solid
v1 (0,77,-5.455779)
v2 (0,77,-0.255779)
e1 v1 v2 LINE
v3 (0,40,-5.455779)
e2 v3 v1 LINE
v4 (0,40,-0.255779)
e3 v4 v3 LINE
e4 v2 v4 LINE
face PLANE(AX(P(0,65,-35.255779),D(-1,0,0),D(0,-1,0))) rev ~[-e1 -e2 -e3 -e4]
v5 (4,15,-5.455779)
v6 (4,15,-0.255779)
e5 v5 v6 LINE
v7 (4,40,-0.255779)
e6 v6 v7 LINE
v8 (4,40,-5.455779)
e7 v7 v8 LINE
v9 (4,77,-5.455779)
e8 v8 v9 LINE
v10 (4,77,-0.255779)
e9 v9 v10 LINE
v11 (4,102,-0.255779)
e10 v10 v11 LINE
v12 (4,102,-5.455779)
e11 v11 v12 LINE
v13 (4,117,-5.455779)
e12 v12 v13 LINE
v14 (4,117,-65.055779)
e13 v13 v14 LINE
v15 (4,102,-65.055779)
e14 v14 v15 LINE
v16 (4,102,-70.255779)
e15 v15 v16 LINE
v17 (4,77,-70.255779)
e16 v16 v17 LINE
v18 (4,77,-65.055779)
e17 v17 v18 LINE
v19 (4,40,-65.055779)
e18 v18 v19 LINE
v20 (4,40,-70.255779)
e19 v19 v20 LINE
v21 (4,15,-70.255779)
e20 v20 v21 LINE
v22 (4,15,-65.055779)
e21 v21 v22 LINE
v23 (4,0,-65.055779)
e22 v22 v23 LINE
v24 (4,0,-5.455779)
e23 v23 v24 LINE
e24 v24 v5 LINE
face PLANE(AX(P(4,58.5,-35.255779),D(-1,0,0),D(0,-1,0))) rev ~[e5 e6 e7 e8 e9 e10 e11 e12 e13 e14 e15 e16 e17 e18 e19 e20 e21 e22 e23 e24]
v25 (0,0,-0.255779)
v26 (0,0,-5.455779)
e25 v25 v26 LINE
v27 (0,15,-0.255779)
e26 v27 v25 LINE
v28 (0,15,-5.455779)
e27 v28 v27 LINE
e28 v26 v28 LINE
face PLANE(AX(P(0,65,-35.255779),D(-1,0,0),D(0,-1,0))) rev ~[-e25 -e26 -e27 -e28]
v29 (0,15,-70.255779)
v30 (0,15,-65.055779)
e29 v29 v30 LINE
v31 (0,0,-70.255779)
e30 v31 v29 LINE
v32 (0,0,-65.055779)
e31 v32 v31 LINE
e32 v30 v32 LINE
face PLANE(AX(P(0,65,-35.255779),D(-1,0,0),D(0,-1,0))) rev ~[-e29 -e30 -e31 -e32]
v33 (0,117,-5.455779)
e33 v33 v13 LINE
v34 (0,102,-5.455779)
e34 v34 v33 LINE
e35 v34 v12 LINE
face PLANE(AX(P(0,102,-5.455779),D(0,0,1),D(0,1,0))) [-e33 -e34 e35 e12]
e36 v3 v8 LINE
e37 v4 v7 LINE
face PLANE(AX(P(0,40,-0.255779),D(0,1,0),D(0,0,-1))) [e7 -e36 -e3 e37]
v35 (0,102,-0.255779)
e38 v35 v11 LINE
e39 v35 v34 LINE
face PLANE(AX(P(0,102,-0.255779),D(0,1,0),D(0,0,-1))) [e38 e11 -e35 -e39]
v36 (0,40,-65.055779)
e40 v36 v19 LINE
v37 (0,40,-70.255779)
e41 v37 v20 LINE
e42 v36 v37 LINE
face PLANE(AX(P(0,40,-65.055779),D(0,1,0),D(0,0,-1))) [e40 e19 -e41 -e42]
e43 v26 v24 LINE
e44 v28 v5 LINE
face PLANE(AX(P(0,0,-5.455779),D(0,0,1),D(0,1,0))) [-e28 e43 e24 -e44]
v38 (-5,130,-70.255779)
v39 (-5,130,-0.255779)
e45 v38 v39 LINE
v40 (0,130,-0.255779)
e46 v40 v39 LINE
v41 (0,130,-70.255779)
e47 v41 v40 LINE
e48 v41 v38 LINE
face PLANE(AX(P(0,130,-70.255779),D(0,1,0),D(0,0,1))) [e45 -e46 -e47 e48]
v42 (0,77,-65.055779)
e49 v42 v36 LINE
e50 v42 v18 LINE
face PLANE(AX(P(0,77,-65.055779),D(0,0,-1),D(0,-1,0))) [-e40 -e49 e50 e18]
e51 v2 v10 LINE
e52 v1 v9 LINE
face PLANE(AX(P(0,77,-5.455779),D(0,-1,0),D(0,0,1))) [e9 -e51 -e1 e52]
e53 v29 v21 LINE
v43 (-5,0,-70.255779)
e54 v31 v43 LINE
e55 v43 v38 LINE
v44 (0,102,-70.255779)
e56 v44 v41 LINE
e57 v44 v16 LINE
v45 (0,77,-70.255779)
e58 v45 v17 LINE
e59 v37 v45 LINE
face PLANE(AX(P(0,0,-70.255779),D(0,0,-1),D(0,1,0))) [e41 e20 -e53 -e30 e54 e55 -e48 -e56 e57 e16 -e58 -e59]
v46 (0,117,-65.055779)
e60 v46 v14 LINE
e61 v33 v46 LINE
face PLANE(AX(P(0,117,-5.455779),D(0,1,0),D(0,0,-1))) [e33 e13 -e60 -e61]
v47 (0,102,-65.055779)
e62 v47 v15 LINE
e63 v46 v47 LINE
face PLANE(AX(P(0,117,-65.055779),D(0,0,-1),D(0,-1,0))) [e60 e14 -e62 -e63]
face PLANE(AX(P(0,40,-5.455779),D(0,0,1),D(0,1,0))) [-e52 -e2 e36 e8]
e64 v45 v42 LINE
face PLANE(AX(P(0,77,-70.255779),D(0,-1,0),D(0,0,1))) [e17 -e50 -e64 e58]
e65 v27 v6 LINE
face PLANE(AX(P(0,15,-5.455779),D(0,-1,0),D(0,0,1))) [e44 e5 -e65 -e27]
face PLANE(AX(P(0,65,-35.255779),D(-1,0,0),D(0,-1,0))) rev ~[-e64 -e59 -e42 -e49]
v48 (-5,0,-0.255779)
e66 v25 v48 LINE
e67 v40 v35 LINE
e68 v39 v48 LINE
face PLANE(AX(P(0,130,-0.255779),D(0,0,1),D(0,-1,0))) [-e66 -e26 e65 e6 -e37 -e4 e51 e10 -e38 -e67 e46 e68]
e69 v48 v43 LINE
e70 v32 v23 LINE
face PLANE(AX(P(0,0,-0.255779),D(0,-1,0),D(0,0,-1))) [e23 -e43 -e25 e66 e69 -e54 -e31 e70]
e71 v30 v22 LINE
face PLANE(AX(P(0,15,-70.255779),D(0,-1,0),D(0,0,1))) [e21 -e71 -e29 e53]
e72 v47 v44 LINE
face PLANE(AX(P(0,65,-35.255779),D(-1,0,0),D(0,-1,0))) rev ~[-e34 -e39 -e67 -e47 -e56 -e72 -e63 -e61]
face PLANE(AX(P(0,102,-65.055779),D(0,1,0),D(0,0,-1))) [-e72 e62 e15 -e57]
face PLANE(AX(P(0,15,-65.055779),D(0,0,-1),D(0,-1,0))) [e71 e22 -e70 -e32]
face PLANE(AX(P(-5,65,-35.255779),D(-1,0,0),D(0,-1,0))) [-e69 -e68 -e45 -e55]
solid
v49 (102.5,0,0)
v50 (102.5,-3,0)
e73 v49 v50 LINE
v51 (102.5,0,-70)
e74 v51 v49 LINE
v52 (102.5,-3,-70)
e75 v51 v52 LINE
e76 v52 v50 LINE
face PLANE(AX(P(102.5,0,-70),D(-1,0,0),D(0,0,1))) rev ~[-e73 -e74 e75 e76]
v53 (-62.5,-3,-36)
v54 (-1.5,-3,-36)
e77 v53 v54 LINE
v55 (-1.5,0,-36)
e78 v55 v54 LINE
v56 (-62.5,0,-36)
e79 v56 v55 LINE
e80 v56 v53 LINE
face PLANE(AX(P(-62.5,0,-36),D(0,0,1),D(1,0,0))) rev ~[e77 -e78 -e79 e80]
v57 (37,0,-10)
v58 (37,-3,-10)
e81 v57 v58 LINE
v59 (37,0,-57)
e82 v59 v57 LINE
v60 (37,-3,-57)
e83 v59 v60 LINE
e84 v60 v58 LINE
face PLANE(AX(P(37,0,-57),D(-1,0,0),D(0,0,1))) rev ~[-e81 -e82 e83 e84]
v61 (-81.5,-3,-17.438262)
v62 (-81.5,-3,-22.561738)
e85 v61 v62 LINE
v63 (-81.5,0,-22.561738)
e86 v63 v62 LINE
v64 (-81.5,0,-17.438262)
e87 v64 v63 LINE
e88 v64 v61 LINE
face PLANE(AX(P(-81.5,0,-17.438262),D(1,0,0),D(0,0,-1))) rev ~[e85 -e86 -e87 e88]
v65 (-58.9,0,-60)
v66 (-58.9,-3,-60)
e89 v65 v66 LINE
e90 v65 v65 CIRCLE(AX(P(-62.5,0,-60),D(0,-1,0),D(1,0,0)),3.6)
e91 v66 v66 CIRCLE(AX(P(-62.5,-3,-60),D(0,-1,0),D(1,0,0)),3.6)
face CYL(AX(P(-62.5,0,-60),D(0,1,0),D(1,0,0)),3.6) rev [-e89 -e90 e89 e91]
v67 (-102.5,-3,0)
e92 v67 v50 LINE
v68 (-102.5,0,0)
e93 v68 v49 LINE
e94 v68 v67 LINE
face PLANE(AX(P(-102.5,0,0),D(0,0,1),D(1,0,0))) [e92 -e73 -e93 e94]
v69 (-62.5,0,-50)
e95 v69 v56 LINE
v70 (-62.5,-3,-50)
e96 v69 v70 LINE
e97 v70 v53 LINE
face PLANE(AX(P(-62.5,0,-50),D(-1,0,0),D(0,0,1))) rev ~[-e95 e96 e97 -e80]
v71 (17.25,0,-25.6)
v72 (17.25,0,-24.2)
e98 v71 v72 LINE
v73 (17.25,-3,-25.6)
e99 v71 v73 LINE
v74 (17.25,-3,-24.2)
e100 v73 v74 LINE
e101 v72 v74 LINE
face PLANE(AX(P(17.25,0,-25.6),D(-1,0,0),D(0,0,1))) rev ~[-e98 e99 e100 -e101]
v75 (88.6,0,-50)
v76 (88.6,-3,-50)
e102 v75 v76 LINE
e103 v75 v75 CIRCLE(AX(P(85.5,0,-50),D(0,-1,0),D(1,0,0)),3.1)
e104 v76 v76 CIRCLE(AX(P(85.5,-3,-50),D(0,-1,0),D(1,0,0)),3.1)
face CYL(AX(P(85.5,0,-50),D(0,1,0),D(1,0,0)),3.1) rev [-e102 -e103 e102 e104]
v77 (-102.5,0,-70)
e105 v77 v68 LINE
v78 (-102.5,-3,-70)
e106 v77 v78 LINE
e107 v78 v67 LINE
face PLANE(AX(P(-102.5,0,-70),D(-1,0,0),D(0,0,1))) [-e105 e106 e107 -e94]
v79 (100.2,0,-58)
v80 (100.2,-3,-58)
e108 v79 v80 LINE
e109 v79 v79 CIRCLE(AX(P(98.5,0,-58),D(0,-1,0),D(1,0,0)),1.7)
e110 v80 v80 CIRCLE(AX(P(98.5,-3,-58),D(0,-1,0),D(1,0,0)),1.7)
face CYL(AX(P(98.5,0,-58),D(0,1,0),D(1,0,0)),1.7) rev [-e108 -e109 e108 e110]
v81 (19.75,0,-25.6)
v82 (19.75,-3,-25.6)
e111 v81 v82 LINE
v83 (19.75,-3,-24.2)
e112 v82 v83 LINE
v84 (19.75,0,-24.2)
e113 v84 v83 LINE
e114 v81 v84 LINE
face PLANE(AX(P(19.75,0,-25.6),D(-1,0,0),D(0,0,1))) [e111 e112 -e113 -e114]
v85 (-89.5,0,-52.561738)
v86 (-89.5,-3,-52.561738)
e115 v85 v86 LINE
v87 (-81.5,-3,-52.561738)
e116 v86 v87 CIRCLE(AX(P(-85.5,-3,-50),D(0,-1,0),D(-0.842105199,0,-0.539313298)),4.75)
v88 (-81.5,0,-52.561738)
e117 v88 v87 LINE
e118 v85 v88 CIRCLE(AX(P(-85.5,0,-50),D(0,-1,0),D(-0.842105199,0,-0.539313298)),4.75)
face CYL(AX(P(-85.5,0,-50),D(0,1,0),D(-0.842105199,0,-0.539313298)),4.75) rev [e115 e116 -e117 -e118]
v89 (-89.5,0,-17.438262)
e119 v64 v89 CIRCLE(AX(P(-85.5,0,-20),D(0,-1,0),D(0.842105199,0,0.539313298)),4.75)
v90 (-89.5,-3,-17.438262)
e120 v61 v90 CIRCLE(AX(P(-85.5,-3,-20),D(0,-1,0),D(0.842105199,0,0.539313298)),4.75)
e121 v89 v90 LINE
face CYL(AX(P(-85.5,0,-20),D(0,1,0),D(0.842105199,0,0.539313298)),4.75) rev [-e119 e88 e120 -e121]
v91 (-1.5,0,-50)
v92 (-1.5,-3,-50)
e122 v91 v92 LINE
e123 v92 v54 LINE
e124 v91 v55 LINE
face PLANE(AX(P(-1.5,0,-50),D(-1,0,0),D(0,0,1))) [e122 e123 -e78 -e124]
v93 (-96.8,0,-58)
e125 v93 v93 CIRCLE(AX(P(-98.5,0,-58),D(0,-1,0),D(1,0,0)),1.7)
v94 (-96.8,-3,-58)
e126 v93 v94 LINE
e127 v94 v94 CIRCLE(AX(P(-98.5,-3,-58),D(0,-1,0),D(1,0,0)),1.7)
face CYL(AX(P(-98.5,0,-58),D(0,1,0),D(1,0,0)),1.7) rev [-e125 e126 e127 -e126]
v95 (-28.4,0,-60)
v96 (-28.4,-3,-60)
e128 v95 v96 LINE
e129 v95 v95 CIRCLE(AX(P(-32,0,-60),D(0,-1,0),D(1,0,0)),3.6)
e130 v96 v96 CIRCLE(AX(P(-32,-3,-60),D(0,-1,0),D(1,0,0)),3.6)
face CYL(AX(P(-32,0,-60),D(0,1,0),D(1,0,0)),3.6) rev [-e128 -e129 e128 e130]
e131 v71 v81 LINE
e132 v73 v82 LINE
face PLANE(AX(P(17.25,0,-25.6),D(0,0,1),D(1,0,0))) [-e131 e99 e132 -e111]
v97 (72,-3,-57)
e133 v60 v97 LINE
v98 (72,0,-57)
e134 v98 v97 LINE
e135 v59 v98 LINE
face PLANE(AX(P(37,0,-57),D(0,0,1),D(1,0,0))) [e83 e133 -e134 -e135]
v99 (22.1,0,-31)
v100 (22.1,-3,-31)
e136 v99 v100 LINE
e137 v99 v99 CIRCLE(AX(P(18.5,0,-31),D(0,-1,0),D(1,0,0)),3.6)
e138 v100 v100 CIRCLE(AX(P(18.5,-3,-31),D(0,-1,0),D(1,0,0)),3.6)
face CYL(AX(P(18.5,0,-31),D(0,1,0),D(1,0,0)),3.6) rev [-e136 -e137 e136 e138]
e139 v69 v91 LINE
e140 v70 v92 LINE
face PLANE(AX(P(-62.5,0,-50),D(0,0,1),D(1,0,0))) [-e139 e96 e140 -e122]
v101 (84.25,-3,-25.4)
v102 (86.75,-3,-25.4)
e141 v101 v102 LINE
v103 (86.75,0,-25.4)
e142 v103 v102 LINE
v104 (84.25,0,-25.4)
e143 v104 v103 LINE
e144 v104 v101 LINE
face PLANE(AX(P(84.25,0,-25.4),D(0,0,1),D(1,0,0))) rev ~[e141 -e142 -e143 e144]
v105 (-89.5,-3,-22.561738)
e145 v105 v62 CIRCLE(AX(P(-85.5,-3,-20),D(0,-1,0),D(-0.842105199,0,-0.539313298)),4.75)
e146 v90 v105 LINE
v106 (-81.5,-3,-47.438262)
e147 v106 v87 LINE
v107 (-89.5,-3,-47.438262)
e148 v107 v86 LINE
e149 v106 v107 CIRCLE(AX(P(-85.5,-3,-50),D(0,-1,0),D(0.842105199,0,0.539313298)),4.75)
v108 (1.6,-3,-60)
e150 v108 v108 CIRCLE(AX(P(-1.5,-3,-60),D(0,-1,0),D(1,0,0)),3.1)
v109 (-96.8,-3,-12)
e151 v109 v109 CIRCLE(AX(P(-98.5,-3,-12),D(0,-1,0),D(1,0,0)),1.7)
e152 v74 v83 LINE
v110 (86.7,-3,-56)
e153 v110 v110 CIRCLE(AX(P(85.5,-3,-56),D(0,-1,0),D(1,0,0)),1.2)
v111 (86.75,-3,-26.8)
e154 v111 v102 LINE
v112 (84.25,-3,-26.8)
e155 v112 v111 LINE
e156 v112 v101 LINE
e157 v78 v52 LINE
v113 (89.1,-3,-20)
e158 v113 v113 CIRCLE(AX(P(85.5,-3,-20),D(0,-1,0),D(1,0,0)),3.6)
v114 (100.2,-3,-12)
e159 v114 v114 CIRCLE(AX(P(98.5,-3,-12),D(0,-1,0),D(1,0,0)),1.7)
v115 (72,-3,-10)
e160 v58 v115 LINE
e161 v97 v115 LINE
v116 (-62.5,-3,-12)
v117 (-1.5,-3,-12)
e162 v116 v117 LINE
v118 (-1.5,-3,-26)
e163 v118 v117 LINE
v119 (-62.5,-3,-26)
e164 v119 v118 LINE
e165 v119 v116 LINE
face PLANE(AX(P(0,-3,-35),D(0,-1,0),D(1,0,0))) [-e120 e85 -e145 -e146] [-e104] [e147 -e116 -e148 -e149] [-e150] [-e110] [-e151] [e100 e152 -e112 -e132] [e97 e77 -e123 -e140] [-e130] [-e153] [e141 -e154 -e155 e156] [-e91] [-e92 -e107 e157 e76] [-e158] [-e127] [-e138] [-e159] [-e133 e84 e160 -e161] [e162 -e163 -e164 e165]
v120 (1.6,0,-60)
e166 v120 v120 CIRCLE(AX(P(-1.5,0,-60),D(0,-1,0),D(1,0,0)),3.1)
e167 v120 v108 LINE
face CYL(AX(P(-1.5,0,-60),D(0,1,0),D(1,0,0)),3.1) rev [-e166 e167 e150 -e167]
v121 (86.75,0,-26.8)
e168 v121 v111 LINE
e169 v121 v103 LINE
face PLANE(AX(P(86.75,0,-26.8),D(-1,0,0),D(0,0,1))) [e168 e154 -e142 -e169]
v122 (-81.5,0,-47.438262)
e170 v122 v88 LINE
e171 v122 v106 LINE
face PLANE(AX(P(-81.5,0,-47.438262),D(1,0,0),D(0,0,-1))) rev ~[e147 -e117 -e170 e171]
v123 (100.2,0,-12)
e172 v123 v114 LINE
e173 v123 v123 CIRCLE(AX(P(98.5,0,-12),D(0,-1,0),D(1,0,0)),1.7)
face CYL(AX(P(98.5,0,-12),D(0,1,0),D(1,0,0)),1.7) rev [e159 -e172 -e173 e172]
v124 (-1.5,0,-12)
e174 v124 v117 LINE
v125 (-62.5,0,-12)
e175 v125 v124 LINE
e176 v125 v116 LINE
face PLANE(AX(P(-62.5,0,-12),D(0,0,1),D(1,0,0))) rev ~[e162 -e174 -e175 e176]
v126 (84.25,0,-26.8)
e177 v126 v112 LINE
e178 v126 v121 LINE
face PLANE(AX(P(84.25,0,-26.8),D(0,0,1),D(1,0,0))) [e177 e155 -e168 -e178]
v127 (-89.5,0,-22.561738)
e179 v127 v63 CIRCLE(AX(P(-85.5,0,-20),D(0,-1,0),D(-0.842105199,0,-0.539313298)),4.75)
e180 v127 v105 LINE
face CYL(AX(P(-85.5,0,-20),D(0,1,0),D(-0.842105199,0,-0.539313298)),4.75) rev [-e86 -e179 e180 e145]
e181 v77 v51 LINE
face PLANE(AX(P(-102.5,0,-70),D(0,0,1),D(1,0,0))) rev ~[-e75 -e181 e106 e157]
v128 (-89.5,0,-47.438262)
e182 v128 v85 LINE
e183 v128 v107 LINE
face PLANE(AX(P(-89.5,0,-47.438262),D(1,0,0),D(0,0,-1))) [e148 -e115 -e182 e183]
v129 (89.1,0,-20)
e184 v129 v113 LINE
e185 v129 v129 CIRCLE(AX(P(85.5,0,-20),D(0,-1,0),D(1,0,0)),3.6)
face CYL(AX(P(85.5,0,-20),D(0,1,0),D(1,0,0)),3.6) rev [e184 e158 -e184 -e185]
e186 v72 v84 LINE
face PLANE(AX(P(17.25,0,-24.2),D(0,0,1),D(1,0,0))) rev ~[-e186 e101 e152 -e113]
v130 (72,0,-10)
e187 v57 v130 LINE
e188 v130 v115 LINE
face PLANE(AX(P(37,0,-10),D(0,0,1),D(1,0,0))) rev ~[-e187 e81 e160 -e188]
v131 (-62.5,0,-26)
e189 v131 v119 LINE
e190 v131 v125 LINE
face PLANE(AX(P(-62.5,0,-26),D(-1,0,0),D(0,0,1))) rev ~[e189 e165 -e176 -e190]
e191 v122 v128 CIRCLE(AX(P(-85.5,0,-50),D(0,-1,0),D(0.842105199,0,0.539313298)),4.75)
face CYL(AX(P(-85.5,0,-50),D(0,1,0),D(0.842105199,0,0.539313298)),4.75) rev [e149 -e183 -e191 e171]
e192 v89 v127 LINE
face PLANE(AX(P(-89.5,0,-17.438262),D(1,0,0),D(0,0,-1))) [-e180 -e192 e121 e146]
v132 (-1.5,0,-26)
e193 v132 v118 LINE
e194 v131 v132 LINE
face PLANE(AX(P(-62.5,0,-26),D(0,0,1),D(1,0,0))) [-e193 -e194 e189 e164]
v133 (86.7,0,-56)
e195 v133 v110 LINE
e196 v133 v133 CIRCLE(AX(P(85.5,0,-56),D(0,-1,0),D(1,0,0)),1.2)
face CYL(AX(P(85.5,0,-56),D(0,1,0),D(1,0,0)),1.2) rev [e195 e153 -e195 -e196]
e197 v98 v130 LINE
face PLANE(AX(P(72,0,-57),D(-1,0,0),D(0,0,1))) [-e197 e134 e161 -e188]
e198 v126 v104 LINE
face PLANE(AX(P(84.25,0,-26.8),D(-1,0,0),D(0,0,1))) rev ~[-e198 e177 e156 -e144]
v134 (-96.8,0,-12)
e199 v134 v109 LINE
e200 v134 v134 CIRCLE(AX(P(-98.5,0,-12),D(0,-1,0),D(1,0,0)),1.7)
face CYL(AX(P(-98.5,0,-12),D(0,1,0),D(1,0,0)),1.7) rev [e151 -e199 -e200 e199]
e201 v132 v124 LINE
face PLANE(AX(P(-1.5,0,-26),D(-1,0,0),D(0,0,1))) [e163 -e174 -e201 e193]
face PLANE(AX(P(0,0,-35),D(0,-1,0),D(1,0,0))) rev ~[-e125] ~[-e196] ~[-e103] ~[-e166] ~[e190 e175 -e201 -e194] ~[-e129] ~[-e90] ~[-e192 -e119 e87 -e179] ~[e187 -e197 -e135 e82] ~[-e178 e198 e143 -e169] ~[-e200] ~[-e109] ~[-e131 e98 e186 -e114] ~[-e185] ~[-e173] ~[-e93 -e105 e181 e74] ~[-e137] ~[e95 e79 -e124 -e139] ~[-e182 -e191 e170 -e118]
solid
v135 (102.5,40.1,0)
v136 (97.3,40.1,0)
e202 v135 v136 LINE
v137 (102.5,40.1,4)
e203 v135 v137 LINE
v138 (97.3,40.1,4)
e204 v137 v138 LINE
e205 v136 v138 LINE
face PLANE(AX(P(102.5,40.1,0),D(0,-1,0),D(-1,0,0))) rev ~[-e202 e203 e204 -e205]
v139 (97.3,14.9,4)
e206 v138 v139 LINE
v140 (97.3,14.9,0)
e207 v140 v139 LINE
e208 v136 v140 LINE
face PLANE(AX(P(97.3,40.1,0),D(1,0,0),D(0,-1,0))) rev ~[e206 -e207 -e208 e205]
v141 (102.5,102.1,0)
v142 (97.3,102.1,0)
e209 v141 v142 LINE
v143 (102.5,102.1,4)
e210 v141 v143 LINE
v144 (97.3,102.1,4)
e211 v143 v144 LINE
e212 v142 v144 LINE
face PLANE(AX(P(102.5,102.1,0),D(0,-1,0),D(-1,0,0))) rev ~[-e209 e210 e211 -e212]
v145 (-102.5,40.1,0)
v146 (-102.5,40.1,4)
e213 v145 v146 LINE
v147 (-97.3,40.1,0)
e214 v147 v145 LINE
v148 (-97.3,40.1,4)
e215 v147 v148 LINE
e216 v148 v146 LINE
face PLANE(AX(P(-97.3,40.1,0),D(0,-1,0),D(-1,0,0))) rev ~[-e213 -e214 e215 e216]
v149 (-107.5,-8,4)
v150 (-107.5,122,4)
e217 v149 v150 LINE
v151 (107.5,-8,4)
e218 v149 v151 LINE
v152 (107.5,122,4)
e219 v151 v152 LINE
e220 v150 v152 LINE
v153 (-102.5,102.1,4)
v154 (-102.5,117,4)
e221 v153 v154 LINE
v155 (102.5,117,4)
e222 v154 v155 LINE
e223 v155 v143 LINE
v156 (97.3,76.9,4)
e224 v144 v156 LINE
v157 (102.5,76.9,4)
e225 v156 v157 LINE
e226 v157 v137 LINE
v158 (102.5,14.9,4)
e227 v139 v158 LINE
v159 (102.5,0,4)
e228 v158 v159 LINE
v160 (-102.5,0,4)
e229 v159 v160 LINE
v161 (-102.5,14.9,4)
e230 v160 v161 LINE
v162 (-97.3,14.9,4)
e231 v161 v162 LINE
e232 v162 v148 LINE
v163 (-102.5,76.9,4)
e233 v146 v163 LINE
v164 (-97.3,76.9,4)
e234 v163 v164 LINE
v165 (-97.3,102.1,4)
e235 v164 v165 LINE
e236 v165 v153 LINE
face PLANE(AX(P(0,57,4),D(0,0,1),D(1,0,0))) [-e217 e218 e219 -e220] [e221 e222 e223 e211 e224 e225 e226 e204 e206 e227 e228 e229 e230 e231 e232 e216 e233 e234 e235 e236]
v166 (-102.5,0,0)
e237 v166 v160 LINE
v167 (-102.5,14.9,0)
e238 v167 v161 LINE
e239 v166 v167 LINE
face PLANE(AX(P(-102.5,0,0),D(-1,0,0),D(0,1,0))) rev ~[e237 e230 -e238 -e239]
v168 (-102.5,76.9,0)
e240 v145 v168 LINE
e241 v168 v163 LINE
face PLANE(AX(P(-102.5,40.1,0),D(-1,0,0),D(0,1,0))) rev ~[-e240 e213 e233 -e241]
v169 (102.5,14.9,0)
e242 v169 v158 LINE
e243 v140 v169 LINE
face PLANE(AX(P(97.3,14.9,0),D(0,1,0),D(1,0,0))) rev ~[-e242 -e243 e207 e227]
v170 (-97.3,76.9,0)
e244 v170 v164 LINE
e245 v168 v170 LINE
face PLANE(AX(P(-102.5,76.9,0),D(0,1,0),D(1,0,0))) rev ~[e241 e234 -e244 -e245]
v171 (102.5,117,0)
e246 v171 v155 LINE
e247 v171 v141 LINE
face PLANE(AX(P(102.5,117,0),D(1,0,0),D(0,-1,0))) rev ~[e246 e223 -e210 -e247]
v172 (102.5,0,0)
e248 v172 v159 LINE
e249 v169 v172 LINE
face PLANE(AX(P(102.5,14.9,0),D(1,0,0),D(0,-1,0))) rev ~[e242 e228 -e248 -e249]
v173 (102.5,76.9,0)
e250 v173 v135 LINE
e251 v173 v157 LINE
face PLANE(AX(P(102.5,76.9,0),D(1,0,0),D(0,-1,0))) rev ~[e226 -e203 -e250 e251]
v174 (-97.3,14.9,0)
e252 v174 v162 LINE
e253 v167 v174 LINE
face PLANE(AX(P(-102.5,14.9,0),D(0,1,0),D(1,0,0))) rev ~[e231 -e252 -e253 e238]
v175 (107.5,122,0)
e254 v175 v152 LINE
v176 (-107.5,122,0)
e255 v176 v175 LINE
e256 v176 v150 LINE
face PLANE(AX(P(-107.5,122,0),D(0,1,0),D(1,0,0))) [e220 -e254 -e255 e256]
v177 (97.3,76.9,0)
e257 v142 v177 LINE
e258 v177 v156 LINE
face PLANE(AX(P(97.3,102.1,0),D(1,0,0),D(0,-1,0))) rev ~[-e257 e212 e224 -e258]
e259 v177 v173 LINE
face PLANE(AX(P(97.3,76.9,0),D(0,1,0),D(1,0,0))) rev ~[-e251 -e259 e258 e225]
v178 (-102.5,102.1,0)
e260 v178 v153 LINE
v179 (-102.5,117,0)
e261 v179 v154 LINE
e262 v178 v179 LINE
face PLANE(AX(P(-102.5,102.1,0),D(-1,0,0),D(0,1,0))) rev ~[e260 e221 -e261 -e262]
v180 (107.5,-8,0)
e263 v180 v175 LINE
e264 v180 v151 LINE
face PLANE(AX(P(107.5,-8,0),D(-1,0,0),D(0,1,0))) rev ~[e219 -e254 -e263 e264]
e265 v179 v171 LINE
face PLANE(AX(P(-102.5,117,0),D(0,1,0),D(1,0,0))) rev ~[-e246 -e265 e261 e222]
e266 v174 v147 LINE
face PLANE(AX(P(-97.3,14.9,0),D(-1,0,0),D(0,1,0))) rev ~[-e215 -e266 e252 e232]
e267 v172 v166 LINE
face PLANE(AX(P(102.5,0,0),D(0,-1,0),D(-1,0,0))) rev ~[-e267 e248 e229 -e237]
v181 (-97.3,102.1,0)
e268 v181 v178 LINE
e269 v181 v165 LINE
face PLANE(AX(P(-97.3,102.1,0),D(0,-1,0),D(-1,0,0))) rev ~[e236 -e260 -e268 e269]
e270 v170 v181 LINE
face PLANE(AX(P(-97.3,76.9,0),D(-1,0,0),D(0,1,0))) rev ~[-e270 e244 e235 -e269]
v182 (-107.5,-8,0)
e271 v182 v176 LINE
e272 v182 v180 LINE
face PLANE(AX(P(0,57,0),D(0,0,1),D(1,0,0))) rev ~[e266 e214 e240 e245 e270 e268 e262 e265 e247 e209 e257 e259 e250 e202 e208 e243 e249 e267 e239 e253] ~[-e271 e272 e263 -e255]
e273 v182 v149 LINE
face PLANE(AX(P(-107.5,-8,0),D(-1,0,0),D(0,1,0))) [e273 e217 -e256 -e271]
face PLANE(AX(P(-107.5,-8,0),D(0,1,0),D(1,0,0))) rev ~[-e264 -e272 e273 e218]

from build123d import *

# Parameters (mm, degrees)
SKETCH008_W   = 205
SKETCH008_H   = 70
SKETCH008_R   = 3.6
SKETCH008_R_2 = 3.1
SKETCH008_R_3 = 1.2
SKETCH008_R_4 = 1.7
SKETCH008_W_2 = 61
SKETCH008_H_2 = 14
SKETCH008_W_3 = 2.5
SKETCH008_H_3 = 1.4
SKETCH008_W_4 = 35
SKETCH008_H_4 = 47
PAD_DEPTH     = 3
SKETCH009_W   = 215
SKETCH009_H   = 130
PAD001_DEPTH  = 4
PAD002_DEPTH  = 4
PAD003_DEPTH  = 5


with BuildPart() as pannellofrontale:
    # Sketch008 → Pad (new body)
    with BuildSketch(Plane.XZ):
        with Locations((0, -35)):
            Rectangle(SKETCH008_W, SKETCH008_H)
        with Locations((85.5, -20)):
            Circle(SKETCH008_R, mode=Mode.SUBTRACT)
        with Locations((18.5, -31)):
            Circle(SKETCH008_R, mode=Mode.SUBTRACT)
        with Locations((85.5, -50)):
            Circle(SKETCH008_R_2, mode=Mode.SUBTRACT)
        with Locations((85.5, -56)):
            Circle(SKETCH008_R_3, mode=Mode.SUBTRACT)
        with Locations((-62.5, -60)):
            Circle(SKETCH008_R, mode=Mode.SUBTRACT)
        with Locations((-32, -60)):
            Circle(SKETCH008_R, mode=Mode.SUBTRACT)
        with Locations((-1.5, -60)):
            Circle(SKETCH008_R_2, mode=Mode.SUBTRACT)
        with Locations((-98.5, -12)):
            Circle(SKETCH008_R_4, mode=Mode.SUBTRACT)
        with Locations((-98.5, -58)):
            Circle(SKETCH008_R_4, mode=Mode.SUBTRACT)
        with Locations((98.5, -12)):
            Circle(SKETCH008_R_4, mode=Mode.SUBTRACT)
        with Locations((98.5, -58)):
            Circle(SKETCH008_R_4, mode=Mode.SUBTRACT)
        with Locations((-32, -19)):
            Rectangle(SKETCH008_W_2, SKETCH008_H_2, mode=Mode.SUBTRACT)
        with Locations((-32, -43)):
            Rectangle(SKETCH008_W_2, SKETCH008_H_2, mode=Mode.SUBTRACT)
        with Locations((85.5, -26.1)):
            Rectangle(SKETCH008_W_3, SKETCH008_H_3, mode=Mode.SUBTRACT)
        with Locations((54.5, -33.5)):
            Rectangle(SKETCH008_W_4, SKETCH008_H_4, mode=Mode.SUBTRACT)
        with Locations((18.5, -24.9)):
            Rectangle(SKETCH008_W_3, SKETCH008_H_3, mode=Mode.SUBTRACT)
        with BuildLine():
            Line((-89.5, -17.438262), (-89.5, -22.561738))
            ThreePointArc((-89.5, -22.561738), (-85.5, -24.75), (-81.5, -22.561738))
            Line((-81.5, -17.438262), (-81.5, -22.561738))
            ThreePointArc((-81.5, -17.438262), (-85.5, -15.25), (-89.5, -17.438262))
        make_face(mode=Mode.SUBTRACT)
        with BuildLine():
            Line((-89.5, -47.438262), (-89.5, -52.561738))
            ThreePointArc((-89.5, -52.561738), (-85.5, -54.75), (-81.5, -52.561738))
            Line((-81.5, -47.438262), (-81.5, -52.561738))
            ThreePointArc((-81.5, -47.438262), (-85.5, -45.25), (-89.5, -47.438262))
        make_face(mode=Mode.SUBTRACT)
    extrude(amount=PAD_DEPTH)


with BuildPart() as mantello001:
    # Sketch009 → Pad001 (new body)
    with BuildSketch(Plane.XY):
        with Locations((0, 57)):
            Rectangle(SKETCH009_W, SKETCH009_H)
        Polygon((-102.5, 117), (102.5, 117), (102.5, 102.1), (97.3, 102.1), (97.3, 76.9), (102.5, 76.9), (102.5, 40.1), (97.3, 40.1), (97.3, 14.9), (102.5, 14.9), (102.5, 0), (-102.5, 0), (-102.5, 14.9), (-97.3, 14.9), (-97.3, 40.1), (-102.5, 40.1), (-102.5, 76.9), (-97.3, 76.9), (-97.3, 102.1), (-102.5, 102.1), align=None, mode=Mode.SUBTRACT)
    extrude(amount=PAD001_DEPTH)


with BuildPart() as spalle001:
    # Sketch010 → Pad002 (new body)
    with BuildSketch(Plane.YZ):
        Polygon((15, -0.255779), (40, -0.255779), (40, -5.455779), (77, -5.455779), (77, -0.255779), (102, -0.255779), (102, -5.455779), (117, -5.455779), (117, -65.055779), (102, -65.055779), (102, -70.255779), (77, -70.255779), (77, -65.055779), (40, -65.055779), (40, -70.255779), (15, -70.255779), (15, -65.055779), (0, -65.055779), (0, -5.455779), (15, -5.455779), align=None)
    extrude(amount=PAD002_DEPTH)

    # Sketch011 → Pad003 (join)
    with BuildSketch(Plane.YZ):
        Polygon((15, -0.255779), (40, -0.255779), (90, -0.255779), (115, -0.255779), (130, -0.255779), (130, -5.455779), (130, -65.055779), (130, -70.255779), (115, -70.255779), (90, -70.255779), (40, -70.255779), (15, -70.255779), (0, -70.255779), (0, -65.055779), (0, -5.455779), (0, -0.255779), align=None)
    extrude(amount=-PAD003_DEPTH)


solid = Compound([pannellofrontale.part, mantello001.part, spalle001.part])
